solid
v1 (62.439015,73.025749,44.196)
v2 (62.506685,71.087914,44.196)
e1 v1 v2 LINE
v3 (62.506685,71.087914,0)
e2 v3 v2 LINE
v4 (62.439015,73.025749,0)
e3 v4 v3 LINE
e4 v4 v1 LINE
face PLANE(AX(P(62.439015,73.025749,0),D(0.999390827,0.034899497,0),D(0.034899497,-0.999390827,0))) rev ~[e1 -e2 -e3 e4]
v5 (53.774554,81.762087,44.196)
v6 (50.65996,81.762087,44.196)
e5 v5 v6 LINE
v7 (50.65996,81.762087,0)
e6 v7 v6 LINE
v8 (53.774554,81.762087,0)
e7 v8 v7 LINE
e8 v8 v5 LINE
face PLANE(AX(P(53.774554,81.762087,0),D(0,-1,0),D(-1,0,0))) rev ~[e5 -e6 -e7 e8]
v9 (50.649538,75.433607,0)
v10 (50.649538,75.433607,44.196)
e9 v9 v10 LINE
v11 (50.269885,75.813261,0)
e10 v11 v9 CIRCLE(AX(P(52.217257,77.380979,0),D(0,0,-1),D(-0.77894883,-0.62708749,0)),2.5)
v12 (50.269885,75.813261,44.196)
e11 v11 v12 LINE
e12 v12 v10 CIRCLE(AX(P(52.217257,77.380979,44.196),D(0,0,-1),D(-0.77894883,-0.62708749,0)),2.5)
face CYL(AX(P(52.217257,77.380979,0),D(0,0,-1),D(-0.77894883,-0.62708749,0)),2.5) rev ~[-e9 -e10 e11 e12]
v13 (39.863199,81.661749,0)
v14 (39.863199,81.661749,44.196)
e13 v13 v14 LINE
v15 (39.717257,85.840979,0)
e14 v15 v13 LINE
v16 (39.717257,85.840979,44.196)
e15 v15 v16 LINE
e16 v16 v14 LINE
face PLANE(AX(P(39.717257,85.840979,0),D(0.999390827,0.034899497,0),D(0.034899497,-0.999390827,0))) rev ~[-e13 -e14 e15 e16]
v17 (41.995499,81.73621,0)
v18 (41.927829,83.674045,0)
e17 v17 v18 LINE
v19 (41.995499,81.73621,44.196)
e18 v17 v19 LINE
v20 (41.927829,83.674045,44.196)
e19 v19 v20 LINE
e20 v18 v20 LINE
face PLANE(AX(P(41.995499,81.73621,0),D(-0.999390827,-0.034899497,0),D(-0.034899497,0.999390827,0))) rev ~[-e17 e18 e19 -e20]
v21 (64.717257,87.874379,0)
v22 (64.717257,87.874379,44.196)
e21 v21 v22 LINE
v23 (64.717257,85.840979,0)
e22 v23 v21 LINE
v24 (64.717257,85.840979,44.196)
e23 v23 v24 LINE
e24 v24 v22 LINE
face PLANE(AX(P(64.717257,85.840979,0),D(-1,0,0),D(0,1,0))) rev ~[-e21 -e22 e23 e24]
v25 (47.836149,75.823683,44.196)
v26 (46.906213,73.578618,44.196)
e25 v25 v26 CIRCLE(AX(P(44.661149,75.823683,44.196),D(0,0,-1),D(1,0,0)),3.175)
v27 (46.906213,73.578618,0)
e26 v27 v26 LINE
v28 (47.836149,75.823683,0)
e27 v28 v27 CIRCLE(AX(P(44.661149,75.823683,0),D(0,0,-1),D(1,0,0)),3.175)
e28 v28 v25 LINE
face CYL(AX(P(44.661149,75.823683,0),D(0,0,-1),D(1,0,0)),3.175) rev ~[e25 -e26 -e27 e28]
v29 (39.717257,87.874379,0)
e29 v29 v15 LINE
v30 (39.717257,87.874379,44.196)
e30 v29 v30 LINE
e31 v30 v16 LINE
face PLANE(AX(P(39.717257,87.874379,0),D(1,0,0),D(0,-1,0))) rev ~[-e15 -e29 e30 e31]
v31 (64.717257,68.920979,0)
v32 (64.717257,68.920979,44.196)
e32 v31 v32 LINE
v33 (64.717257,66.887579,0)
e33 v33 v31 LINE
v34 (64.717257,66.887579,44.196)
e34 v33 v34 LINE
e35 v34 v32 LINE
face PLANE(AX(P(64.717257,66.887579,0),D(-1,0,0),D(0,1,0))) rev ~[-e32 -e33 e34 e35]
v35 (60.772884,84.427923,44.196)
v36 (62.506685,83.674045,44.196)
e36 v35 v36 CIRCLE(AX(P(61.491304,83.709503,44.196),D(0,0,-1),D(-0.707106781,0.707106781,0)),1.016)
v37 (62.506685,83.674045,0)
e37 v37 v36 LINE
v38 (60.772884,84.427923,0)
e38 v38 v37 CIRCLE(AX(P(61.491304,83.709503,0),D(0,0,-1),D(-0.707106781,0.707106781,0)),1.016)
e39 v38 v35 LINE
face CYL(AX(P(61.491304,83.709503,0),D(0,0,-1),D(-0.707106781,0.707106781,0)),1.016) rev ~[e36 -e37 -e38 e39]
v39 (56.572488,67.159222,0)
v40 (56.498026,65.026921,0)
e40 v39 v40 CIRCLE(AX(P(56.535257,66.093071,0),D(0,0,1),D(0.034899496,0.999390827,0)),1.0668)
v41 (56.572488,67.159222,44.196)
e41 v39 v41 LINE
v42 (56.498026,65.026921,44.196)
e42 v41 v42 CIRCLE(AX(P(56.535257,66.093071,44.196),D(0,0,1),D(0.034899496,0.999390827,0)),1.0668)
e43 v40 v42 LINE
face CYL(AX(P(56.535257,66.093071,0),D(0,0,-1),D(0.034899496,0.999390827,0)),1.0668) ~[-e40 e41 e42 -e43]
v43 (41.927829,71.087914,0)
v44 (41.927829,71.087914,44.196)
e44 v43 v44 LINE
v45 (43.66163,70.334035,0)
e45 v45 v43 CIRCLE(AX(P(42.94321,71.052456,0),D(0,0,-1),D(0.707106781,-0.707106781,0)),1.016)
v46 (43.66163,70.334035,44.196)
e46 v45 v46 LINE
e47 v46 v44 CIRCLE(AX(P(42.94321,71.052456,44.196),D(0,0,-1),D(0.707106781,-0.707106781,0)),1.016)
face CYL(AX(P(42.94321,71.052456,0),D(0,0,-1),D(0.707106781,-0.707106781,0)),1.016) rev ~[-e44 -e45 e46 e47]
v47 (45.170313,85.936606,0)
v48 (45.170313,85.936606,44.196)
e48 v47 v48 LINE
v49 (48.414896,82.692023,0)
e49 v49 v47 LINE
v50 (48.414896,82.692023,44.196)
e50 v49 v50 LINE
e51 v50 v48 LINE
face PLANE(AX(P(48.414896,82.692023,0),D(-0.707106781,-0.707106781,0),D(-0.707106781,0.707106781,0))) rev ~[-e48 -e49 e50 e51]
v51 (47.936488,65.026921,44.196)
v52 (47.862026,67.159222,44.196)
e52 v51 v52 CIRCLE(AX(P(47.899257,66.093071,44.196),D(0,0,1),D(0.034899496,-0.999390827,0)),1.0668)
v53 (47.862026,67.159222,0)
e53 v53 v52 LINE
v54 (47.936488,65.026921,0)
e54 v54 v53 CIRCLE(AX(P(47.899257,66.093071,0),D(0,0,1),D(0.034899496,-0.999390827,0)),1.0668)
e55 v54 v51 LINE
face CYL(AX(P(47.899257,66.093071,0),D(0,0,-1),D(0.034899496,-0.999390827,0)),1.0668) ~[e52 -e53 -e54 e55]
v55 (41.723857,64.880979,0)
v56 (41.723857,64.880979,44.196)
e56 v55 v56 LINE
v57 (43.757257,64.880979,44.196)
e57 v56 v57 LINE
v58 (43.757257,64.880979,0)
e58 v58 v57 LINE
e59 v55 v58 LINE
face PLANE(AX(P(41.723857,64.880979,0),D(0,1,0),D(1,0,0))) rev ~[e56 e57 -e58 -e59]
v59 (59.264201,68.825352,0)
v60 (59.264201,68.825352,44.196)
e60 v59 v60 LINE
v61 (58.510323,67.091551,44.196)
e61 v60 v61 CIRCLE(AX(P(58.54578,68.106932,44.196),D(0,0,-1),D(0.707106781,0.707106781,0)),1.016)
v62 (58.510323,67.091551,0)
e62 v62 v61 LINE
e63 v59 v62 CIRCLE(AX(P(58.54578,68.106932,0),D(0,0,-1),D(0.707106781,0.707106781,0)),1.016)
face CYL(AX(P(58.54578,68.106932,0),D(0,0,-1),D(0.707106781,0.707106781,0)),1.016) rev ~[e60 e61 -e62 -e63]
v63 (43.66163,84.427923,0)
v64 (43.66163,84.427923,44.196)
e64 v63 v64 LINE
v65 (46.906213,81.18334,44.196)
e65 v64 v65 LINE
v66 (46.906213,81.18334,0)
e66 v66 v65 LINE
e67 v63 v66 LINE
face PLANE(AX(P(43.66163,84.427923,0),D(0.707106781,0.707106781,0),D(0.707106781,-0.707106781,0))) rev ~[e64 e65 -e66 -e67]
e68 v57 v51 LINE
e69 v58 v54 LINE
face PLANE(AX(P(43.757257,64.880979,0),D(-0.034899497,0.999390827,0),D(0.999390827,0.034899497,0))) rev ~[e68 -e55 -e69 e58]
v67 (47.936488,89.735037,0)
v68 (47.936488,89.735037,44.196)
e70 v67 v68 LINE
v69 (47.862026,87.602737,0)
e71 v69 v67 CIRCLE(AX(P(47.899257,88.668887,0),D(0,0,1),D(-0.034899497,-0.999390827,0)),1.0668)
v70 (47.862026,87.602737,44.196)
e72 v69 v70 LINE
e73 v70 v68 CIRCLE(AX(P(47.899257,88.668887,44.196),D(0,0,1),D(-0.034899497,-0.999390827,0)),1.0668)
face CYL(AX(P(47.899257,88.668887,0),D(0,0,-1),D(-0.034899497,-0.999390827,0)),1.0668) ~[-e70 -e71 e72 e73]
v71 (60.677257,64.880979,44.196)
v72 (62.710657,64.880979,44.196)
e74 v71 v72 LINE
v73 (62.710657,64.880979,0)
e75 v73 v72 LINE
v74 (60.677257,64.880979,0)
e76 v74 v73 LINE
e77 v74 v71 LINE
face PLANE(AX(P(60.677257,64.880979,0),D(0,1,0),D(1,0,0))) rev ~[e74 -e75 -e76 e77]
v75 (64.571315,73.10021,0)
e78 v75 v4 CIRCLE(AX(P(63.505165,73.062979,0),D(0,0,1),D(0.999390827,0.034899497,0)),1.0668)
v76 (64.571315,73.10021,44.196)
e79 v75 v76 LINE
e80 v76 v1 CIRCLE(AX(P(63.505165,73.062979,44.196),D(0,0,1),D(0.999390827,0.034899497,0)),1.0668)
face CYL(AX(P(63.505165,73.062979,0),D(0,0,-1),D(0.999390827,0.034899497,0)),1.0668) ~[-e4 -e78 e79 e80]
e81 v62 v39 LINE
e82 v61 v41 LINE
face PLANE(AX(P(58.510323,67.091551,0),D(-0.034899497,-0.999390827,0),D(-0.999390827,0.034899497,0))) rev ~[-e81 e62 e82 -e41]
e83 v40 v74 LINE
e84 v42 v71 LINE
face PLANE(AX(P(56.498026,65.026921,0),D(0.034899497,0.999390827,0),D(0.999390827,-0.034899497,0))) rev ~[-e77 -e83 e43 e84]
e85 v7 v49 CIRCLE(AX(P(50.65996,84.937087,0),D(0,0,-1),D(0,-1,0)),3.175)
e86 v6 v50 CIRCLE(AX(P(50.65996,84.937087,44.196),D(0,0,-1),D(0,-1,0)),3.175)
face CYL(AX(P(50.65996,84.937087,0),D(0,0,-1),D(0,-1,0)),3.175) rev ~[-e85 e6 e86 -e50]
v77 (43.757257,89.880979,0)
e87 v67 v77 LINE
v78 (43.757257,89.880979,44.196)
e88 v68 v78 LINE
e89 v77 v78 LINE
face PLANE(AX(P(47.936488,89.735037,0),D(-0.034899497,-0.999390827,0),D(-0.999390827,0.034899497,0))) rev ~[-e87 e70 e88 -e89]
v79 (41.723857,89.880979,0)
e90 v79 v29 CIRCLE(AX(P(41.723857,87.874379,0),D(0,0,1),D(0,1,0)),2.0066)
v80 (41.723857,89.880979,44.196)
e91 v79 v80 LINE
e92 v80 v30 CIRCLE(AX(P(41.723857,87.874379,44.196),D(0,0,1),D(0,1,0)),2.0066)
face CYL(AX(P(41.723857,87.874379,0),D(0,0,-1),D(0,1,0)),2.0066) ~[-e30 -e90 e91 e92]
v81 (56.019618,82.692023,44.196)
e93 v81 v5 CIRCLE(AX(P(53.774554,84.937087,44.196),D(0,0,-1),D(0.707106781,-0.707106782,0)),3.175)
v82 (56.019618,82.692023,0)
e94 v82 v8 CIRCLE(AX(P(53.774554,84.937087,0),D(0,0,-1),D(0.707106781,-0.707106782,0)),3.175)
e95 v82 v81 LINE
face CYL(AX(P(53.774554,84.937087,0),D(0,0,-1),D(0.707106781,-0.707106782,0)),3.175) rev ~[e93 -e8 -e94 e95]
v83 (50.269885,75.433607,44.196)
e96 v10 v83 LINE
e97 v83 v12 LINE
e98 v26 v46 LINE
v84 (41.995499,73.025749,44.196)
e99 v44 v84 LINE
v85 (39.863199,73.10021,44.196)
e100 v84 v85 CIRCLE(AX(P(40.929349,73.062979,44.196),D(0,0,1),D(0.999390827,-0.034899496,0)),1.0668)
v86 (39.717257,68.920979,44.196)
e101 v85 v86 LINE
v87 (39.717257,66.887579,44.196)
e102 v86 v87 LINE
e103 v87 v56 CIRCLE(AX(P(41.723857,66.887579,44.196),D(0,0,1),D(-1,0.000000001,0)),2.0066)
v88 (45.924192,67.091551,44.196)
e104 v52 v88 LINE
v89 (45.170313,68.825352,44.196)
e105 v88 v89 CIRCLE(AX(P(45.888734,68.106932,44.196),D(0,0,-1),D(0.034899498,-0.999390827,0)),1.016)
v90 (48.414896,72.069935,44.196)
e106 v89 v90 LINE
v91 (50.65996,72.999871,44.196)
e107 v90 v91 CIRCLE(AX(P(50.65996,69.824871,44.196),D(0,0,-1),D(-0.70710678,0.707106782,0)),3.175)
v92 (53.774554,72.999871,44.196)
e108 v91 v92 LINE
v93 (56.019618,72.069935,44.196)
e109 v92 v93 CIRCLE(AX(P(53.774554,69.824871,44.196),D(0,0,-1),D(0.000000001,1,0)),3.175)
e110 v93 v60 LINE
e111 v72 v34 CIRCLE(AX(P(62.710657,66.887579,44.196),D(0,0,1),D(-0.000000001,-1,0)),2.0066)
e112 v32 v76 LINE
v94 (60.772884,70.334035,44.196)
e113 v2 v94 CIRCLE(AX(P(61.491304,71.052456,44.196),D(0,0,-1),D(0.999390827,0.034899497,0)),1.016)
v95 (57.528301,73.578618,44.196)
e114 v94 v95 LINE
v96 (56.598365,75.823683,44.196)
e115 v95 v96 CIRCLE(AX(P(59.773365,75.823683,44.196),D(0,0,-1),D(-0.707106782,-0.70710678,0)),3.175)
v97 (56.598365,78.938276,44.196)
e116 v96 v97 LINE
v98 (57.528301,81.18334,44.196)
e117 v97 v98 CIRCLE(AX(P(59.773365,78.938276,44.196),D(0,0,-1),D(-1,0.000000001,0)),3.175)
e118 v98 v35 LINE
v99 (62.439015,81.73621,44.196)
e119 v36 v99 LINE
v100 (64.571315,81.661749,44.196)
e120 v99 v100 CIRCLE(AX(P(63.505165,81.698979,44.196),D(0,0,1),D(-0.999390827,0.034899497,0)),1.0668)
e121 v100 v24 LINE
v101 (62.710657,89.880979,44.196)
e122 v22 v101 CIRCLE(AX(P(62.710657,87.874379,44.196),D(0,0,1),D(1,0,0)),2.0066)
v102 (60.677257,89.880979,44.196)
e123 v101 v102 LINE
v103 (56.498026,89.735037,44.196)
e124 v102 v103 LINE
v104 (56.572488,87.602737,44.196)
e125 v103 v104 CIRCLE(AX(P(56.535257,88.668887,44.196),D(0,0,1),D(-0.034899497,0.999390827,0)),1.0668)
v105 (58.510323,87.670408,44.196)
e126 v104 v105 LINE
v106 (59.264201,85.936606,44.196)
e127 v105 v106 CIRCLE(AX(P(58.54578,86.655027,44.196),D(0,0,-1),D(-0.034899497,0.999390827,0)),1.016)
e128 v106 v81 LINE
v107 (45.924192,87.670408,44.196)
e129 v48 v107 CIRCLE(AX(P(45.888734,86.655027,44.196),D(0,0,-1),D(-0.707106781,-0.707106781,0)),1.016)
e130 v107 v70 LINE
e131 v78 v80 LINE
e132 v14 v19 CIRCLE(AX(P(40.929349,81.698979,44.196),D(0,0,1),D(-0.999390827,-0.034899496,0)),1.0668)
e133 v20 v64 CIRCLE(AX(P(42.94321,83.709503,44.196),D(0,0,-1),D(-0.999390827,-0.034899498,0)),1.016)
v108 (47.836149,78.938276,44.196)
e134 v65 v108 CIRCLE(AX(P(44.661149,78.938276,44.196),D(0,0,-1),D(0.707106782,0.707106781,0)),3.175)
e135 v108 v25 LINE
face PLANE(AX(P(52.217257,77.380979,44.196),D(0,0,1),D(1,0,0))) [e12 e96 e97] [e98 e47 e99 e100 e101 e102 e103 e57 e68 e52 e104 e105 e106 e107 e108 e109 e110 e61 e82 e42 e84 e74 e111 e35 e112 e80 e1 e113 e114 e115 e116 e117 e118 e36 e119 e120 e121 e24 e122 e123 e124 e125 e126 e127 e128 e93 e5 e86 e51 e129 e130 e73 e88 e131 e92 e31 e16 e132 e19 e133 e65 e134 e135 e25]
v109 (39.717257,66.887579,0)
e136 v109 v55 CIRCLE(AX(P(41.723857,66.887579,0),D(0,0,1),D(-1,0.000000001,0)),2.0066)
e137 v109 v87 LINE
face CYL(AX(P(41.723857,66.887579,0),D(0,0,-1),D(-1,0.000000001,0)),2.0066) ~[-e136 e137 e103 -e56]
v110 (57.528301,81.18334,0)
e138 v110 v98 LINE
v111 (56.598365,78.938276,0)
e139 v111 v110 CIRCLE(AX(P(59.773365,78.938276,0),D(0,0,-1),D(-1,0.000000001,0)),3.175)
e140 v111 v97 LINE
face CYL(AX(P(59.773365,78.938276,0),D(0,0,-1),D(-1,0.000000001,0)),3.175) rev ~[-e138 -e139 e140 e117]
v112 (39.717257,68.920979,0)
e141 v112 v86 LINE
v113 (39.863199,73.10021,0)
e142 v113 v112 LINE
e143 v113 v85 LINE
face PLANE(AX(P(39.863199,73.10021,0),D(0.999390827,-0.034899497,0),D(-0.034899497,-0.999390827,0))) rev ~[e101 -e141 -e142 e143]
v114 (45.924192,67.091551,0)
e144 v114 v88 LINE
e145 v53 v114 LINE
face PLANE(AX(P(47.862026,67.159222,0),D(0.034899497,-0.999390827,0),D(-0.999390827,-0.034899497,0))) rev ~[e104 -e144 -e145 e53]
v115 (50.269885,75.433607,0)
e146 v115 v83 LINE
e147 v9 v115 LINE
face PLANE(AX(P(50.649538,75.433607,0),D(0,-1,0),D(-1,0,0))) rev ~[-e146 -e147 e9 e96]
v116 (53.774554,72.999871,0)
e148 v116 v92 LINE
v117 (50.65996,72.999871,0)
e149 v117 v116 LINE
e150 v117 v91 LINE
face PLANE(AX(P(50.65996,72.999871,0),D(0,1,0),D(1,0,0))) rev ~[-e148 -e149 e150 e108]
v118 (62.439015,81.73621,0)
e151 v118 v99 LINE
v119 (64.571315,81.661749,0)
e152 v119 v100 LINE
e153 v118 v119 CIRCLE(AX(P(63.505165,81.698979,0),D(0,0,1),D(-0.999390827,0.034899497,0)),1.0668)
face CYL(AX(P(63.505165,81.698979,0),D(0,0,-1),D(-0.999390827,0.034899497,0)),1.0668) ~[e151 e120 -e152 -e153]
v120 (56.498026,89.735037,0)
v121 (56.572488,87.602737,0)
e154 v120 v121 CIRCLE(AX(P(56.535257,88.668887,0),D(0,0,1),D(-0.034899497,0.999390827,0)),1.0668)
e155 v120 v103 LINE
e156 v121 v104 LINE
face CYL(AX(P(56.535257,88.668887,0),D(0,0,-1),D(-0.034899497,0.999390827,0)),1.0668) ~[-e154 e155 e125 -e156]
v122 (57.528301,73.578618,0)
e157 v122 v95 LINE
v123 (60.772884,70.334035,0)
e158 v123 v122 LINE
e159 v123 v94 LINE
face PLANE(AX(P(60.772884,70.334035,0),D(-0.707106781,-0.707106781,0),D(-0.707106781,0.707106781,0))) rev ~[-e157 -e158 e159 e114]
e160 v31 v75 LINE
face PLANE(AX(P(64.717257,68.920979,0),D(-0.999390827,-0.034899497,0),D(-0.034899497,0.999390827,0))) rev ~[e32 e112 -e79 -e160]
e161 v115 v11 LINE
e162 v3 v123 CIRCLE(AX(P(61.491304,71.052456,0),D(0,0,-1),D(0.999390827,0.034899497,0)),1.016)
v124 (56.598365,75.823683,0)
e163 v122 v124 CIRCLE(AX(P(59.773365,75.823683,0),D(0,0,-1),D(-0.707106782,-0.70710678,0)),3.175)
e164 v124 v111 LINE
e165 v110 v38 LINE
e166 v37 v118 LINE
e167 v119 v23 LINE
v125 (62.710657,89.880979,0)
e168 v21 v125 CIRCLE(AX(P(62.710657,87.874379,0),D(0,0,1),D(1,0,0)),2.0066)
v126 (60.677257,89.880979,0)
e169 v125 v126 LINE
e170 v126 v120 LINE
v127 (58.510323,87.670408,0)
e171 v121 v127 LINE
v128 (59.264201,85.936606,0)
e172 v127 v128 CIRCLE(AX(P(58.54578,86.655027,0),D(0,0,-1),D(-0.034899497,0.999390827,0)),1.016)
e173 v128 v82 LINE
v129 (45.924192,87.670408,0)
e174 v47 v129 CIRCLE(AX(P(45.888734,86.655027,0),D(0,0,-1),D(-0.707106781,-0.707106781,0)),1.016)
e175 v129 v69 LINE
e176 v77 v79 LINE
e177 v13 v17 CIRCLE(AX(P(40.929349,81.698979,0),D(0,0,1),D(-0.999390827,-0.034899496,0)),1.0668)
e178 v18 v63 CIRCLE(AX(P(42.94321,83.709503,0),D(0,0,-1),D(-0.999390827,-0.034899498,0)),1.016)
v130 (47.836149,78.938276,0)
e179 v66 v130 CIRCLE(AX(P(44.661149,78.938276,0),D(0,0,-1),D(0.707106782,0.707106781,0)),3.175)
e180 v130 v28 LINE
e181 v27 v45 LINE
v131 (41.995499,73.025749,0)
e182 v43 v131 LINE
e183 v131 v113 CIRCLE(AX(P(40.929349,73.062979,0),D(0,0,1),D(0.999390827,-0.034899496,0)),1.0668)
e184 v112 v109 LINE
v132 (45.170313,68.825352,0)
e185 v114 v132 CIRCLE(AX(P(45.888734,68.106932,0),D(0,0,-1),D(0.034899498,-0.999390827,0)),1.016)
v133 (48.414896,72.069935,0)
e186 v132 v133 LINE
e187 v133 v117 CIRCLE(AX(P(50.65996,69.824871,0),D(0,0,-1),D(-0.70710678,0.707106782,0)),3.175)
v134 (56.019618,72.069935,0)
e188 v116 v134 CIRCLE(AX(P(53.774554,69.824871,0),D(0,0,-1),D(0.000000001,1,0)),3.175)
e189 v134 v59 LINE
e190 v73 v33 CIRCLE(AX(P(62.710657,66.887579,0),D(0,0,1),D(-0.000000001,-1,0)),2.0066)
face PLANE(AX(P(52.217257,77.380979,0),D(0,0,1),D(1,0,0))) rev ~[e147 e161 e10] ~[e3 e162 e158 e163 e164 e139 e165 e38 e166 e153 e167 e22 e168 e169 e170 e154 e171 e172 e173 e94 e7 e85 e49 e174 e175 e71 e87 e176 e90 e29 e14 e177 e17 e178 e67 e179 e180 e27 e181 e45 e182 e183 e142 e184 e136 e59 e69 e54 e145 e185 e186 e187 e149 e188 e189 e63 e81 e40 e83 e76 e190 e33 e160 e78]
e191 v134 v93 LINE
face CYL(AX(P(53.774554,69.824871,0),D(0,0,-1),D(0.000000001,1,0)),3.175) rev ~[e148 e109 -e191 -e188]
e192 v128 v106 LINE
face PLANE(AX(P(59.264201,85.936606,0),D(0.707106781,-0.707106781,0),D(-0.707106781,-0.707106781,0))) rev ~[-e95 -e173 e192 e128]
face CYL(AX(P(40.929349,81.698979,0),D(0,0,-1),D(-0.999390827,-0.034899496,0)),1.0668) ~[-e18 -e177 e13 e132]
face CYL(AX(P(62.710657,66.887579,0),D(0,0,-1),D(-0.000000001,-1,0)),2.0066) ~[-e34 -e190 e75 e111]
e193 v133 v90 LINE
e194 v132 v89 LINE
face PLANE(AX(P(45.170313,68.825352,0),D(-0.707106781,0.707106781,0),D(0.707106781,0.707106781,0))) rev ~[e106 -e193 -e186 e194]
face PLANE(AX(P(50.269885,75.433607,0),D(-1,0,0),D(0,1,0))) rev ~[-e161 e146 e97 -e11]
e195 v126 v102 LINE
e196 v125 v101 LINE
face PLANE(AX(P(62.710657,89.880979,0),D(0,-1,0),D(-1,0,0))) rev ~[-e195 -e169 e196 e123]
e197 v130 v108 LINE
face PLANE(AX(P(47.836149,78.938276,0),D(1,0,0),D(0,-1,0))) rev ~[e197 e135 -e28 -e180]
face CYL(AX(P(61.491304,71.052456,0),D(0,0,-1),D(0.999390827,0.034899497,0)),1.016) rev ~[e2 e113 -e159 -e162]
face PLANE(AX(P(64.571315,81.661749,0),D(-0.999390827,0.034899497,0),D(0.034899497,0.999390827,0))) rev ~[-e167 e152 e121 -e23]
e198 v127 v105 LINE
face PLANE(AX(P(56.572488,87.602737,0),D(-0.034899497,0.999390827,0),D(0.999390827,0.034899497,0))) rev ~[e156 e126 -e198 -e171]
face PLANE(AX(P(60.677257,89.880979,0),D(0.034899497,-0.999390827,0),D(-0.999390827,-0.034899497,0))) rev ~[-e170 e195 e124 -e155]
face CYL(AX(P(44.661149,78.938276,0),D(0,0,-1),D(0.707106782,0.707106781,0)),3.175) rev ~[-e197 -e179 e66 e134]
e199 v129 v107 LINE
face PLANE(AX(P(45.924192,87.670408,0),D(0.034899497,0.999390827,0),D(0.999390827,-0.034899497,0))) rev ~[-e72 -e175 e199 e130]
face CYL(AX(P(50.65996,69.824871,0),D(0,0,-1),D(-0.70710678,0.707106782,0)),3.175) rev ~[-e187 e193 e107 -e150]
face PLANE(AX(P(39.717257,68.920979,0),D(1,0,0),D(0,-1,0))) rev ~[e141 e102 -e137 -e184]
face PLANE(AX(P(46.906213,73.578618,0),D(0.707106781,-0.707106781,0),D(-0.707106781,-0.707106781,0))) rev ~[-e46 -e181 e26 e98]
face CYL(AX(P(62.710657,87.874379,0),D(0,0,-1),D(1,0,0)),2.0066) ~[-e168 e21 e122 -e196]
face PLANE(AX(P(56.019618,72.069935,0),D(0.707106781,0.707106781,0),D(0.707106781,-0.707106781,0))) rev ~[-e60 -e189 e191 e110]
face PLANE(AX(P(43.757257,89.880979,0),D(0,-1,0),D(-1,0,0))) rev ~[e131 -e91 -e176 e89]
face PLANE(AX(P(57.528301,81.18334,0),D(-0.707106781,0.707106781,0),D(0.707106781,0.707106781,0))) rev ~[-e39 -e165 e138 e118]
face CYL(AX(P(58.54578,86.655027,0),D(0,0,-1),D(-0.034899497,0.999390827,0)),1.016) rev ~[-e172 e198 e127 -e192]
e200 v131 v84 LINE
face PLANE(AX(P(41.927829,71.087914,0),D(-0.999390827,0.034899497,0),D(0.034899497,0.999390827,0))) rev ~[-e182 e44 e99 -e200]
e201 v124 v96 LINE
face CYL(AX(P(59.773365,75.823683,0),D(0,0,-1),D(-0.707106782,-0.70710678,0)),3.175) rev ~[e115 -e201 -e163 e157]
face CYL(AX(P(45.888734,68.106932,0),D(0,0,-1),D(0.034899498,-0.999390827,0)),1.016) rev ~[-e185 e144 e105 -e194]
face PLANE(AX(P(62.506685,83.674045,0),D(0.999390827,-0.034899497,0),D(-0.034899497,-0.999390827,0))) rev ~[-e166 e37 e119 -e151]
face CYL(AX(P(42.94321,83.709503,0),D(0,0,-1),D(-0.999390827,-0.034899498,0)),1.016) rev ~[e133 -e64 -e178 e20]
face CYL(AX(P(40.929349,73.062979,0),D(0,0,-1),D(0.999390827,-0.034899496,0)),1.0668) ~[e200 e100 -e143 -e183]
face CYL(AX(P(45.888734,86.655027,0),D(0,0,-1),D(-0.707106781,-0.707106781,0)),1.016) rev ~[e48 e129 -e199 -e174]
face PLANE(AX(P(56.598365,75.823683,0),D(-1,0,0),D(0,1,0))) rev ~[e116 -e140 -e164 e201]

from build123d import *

# Parameters (mm, degrees)
BOSS_EXTRUDE1_DEPTH = 44.196


with BuildPart() as part:
    # Model → Boss-Extrude1 (new body)
    with BuildSketch(Plane.XY):
        with BuildLine():
            Line((50.659960212, 72.999871414), (53.774553856, 72.999871414))
            ThreePointArc((53.774553856, 72.999871414), (54.989573754, 72.758188929), (56.019617887, 72.069935444))
            Line((56.019617887, 72.069935444), (59.264200891, 68.825352439))
            ThreePointArc((59.264200891, 68.825352439), (59.477513437, 67.701802895), (58.510322513, 67.091550869))
            Line((58.510322513, 67.091550869), (56.572487817, 67.159221548))
            ThreePointArc((56.572487817, 67.159221548), (55.4691069, 66.130302197), (56.498026251, 65.026921279))
            Line((56.498026251, 65.026921279), (60.677257034, 64.880979325))
            Line((60.677257034, 64.880979325), (62.710657034, 64.880979325))
            ThreePointArc((62.710657034, 64.880979325), (64.129537501, 65.468698857), (64.717257034, 66.887579325))
            Line((64.717257034, 66.887579325), (64.717257034, 68.920979325))
            Line((64.717257034, 68.920979325), (64.57131508, 73.100210108))
            ThreePointArc((64.57131508, 73.100210108), (63.467934162, 74.129129459), (62.439014811, 73.025748542))
            Line((62.439014811, 73.025748542), (62.50668549, 71.087913846))
            ThreePointArc((62.50668549, 71.087913846), (61.896433464, 70.120722922), (60.77288392, 70.334035468))
            Line((60.77288392, 70.334035468), (57.528300915, 73.578618472))
            ThreePointArc((57.528300915, 73.578618472), (56.84004743, 74.608662605), (56.598364945, 75.823682503))
            Line((56.598364945, 75.823682503), (56.598364945, 78.938276147))
            ThreePointArc((56.598364945, 78.938276147), (56.84004743, 80.153296044), (57.528300915, 81.183340177))
            Line((57.528300915, 81.183340177), (60.77288392, 84.427923182))
            ThreePointArc((60.77288392, 84.427923182), (61.896433464, 84.641235728), (62.50668549, 83.674044803))
            Line((62.50668549, 83.674044803), (62.439014811, 81.736210108))
            ThreePointArc((62.439014811, 81.736210108), (63.467934162, 80.63282919), (64.57131508, 81.661748542))
            Line((64.57131508, 81.661748542), (64.717257034, 85.840979325))
            Line((64.717257034, 85.840979325), (64.717257034, 87.874379325))
            ThreePointArc((64.717257034, 87.874379325), (64.129537501, 89.293259792), (62.710657034, 89.880979325))
            Line((62.710657034, 89.880979325), (60.677257034, 89.880979325))
            Line((60.677257034, 89.880979325), (56.498026251, 89.73503737))
            ThreePointArc((56.498026251, 89.73503737), (55.4691069, 88.631656452), (56.572487817, 87.602737101))
            Line((56.572487817, 87.602737101), (58.510322513, 87.67040778))
            ThreePointArc((58.510322513, 87.67040778), (59.477513437, 87.060155754), (59.264200891, 85.93660621))
            Line((59.264200891, 85.93660621), (56.019617887, 82.692023205))
            ThreePointArc((56.019617887, 82.692023205), (54.989573754, 82.00376972), (53.774553856, 81.762087236))
            Line((53.774553856, 81.762087236), (50.659960212, 81.762087236))
            ThreePointArc((50.659960212, 81.762087236), (49.444940315, 82.00376972), (48.414896182, 82.692023205))
            Line((48.414896182, 82.692023205), (45.170313177, 85.93660621))
            ThreePointArc((45.170313177, 85.93660621), (44.957000631, 87.060155754), (45.924191556, 87.67040778))
            Line((45.924191556, 87.67040778), (47.862026251, 87.602737101))
            ThreePointArc((47.862026251, 87.602737101), (48.965407169, 88.631656452), (47.936487817, 89.73503737))
            Line((47.936487817, 89.73503737), (43.757257034, 89.880979325))
            Line((43.757257034, 89.880979325), (41.723857034, 89.880979325))
            ThreePointArc((41.723857034, 89.880979325), (40.304976567, 89.293259792), (39.717257034, 87.874379325))
            Line((39.717257034, 87.874379325), (39.717257034, 85.840979325))
            Line((39.717257034, 85.840979325), (39.863198989, 81.661748542))
            ThreePointArc((39.863198989, 81.661748542), (40.966579907, 80.63282919), (41.995499258, 81.736210108))
            Line((41.995499258, 81.736210108), (41.927828579, 83.674044803))
            ThreePointArc((41.927828579, 83.674044803), (42.538080605, 84.641235728), (43.661630149, 84.427923182))
            Line((43.661630149, 84.427923182), (46.906213154, 81.183340177))
            ThreePointArc((46.906213154, 81.183340177), (47.594466639, 80.153296044), (47.836149123, 78.938276147))
            Line((47.836149123, 78.938276147), (47.836149123, 75.823682503))
            ThreePointArc((47.836149123, 75.823682503), (47.594466639, 74.608662605), (46.906213154, 73.578618472))
            Line((46.906213154, 73.578618472), (43.661630149, 70.334035468))
            ThreePointArc((43.661630149, 70.334035468), (42.538080605, 70.120722922), (41.927828579, 71.087913846))
            Line((41.927828579, 71.087913846), (41.995499258, 73.025748542))
            ThreePointArc((41.995499258, 73.025748542), (40.966579907, 74.129129459), (39.863198989, 73.100210108))
            Line((39.863198989, 73.100210108), (39.717257034, 68.920979325))
            Line((39.717257034, 68.920979325), (39.717257034, 66.887579325))
            ThreePointArc((39.717257034, 66.887579325), (40.304976567, 65.468698857), (41.723857034, 64.880979325))
            Line((41.723857034, 64.880979325), (43.757257034, 64.880979325))
            Line((43.757257034, 64.880979325), (47.936487817, 65.026921279))
            ThreePointArc((47.936487817, 65.026921279), (48.965407169, 66.130302197), (47.862026251, 67.159221548))
            Line((47.862026251, 67.159221548), (45.924191556, 67.091550869))
            ThreePointArc((45.924191556, 67.091550869), (44.957000631, 67.701802895), (45.170313177, 68.825352439))
            Line((45.170313177, 68.825352439), (48.414896182, 72.069935444))
            ThreePointArc((48.414896182, 72.069935444), (49.444940315, 72.758188929), (50.659960212, 72.999871414))
        make_face()
        with BuildLine():
            Line((50.64953831, 75.433607249), (50.269884959, 75.433607249))
            Line((50.269884959, 75.433607249), (50.269884959, 75.8132606))
            ThreePointArc((50.269884959, 75.8132606), (53.985023987, 79.148746278), (50.64953831, 75.433607249))
        make_face(mode=Mode.SUBTRACT)
    extrude(amount=BOSS_EXTRUDE1_DEPTH)


solid = part.part
